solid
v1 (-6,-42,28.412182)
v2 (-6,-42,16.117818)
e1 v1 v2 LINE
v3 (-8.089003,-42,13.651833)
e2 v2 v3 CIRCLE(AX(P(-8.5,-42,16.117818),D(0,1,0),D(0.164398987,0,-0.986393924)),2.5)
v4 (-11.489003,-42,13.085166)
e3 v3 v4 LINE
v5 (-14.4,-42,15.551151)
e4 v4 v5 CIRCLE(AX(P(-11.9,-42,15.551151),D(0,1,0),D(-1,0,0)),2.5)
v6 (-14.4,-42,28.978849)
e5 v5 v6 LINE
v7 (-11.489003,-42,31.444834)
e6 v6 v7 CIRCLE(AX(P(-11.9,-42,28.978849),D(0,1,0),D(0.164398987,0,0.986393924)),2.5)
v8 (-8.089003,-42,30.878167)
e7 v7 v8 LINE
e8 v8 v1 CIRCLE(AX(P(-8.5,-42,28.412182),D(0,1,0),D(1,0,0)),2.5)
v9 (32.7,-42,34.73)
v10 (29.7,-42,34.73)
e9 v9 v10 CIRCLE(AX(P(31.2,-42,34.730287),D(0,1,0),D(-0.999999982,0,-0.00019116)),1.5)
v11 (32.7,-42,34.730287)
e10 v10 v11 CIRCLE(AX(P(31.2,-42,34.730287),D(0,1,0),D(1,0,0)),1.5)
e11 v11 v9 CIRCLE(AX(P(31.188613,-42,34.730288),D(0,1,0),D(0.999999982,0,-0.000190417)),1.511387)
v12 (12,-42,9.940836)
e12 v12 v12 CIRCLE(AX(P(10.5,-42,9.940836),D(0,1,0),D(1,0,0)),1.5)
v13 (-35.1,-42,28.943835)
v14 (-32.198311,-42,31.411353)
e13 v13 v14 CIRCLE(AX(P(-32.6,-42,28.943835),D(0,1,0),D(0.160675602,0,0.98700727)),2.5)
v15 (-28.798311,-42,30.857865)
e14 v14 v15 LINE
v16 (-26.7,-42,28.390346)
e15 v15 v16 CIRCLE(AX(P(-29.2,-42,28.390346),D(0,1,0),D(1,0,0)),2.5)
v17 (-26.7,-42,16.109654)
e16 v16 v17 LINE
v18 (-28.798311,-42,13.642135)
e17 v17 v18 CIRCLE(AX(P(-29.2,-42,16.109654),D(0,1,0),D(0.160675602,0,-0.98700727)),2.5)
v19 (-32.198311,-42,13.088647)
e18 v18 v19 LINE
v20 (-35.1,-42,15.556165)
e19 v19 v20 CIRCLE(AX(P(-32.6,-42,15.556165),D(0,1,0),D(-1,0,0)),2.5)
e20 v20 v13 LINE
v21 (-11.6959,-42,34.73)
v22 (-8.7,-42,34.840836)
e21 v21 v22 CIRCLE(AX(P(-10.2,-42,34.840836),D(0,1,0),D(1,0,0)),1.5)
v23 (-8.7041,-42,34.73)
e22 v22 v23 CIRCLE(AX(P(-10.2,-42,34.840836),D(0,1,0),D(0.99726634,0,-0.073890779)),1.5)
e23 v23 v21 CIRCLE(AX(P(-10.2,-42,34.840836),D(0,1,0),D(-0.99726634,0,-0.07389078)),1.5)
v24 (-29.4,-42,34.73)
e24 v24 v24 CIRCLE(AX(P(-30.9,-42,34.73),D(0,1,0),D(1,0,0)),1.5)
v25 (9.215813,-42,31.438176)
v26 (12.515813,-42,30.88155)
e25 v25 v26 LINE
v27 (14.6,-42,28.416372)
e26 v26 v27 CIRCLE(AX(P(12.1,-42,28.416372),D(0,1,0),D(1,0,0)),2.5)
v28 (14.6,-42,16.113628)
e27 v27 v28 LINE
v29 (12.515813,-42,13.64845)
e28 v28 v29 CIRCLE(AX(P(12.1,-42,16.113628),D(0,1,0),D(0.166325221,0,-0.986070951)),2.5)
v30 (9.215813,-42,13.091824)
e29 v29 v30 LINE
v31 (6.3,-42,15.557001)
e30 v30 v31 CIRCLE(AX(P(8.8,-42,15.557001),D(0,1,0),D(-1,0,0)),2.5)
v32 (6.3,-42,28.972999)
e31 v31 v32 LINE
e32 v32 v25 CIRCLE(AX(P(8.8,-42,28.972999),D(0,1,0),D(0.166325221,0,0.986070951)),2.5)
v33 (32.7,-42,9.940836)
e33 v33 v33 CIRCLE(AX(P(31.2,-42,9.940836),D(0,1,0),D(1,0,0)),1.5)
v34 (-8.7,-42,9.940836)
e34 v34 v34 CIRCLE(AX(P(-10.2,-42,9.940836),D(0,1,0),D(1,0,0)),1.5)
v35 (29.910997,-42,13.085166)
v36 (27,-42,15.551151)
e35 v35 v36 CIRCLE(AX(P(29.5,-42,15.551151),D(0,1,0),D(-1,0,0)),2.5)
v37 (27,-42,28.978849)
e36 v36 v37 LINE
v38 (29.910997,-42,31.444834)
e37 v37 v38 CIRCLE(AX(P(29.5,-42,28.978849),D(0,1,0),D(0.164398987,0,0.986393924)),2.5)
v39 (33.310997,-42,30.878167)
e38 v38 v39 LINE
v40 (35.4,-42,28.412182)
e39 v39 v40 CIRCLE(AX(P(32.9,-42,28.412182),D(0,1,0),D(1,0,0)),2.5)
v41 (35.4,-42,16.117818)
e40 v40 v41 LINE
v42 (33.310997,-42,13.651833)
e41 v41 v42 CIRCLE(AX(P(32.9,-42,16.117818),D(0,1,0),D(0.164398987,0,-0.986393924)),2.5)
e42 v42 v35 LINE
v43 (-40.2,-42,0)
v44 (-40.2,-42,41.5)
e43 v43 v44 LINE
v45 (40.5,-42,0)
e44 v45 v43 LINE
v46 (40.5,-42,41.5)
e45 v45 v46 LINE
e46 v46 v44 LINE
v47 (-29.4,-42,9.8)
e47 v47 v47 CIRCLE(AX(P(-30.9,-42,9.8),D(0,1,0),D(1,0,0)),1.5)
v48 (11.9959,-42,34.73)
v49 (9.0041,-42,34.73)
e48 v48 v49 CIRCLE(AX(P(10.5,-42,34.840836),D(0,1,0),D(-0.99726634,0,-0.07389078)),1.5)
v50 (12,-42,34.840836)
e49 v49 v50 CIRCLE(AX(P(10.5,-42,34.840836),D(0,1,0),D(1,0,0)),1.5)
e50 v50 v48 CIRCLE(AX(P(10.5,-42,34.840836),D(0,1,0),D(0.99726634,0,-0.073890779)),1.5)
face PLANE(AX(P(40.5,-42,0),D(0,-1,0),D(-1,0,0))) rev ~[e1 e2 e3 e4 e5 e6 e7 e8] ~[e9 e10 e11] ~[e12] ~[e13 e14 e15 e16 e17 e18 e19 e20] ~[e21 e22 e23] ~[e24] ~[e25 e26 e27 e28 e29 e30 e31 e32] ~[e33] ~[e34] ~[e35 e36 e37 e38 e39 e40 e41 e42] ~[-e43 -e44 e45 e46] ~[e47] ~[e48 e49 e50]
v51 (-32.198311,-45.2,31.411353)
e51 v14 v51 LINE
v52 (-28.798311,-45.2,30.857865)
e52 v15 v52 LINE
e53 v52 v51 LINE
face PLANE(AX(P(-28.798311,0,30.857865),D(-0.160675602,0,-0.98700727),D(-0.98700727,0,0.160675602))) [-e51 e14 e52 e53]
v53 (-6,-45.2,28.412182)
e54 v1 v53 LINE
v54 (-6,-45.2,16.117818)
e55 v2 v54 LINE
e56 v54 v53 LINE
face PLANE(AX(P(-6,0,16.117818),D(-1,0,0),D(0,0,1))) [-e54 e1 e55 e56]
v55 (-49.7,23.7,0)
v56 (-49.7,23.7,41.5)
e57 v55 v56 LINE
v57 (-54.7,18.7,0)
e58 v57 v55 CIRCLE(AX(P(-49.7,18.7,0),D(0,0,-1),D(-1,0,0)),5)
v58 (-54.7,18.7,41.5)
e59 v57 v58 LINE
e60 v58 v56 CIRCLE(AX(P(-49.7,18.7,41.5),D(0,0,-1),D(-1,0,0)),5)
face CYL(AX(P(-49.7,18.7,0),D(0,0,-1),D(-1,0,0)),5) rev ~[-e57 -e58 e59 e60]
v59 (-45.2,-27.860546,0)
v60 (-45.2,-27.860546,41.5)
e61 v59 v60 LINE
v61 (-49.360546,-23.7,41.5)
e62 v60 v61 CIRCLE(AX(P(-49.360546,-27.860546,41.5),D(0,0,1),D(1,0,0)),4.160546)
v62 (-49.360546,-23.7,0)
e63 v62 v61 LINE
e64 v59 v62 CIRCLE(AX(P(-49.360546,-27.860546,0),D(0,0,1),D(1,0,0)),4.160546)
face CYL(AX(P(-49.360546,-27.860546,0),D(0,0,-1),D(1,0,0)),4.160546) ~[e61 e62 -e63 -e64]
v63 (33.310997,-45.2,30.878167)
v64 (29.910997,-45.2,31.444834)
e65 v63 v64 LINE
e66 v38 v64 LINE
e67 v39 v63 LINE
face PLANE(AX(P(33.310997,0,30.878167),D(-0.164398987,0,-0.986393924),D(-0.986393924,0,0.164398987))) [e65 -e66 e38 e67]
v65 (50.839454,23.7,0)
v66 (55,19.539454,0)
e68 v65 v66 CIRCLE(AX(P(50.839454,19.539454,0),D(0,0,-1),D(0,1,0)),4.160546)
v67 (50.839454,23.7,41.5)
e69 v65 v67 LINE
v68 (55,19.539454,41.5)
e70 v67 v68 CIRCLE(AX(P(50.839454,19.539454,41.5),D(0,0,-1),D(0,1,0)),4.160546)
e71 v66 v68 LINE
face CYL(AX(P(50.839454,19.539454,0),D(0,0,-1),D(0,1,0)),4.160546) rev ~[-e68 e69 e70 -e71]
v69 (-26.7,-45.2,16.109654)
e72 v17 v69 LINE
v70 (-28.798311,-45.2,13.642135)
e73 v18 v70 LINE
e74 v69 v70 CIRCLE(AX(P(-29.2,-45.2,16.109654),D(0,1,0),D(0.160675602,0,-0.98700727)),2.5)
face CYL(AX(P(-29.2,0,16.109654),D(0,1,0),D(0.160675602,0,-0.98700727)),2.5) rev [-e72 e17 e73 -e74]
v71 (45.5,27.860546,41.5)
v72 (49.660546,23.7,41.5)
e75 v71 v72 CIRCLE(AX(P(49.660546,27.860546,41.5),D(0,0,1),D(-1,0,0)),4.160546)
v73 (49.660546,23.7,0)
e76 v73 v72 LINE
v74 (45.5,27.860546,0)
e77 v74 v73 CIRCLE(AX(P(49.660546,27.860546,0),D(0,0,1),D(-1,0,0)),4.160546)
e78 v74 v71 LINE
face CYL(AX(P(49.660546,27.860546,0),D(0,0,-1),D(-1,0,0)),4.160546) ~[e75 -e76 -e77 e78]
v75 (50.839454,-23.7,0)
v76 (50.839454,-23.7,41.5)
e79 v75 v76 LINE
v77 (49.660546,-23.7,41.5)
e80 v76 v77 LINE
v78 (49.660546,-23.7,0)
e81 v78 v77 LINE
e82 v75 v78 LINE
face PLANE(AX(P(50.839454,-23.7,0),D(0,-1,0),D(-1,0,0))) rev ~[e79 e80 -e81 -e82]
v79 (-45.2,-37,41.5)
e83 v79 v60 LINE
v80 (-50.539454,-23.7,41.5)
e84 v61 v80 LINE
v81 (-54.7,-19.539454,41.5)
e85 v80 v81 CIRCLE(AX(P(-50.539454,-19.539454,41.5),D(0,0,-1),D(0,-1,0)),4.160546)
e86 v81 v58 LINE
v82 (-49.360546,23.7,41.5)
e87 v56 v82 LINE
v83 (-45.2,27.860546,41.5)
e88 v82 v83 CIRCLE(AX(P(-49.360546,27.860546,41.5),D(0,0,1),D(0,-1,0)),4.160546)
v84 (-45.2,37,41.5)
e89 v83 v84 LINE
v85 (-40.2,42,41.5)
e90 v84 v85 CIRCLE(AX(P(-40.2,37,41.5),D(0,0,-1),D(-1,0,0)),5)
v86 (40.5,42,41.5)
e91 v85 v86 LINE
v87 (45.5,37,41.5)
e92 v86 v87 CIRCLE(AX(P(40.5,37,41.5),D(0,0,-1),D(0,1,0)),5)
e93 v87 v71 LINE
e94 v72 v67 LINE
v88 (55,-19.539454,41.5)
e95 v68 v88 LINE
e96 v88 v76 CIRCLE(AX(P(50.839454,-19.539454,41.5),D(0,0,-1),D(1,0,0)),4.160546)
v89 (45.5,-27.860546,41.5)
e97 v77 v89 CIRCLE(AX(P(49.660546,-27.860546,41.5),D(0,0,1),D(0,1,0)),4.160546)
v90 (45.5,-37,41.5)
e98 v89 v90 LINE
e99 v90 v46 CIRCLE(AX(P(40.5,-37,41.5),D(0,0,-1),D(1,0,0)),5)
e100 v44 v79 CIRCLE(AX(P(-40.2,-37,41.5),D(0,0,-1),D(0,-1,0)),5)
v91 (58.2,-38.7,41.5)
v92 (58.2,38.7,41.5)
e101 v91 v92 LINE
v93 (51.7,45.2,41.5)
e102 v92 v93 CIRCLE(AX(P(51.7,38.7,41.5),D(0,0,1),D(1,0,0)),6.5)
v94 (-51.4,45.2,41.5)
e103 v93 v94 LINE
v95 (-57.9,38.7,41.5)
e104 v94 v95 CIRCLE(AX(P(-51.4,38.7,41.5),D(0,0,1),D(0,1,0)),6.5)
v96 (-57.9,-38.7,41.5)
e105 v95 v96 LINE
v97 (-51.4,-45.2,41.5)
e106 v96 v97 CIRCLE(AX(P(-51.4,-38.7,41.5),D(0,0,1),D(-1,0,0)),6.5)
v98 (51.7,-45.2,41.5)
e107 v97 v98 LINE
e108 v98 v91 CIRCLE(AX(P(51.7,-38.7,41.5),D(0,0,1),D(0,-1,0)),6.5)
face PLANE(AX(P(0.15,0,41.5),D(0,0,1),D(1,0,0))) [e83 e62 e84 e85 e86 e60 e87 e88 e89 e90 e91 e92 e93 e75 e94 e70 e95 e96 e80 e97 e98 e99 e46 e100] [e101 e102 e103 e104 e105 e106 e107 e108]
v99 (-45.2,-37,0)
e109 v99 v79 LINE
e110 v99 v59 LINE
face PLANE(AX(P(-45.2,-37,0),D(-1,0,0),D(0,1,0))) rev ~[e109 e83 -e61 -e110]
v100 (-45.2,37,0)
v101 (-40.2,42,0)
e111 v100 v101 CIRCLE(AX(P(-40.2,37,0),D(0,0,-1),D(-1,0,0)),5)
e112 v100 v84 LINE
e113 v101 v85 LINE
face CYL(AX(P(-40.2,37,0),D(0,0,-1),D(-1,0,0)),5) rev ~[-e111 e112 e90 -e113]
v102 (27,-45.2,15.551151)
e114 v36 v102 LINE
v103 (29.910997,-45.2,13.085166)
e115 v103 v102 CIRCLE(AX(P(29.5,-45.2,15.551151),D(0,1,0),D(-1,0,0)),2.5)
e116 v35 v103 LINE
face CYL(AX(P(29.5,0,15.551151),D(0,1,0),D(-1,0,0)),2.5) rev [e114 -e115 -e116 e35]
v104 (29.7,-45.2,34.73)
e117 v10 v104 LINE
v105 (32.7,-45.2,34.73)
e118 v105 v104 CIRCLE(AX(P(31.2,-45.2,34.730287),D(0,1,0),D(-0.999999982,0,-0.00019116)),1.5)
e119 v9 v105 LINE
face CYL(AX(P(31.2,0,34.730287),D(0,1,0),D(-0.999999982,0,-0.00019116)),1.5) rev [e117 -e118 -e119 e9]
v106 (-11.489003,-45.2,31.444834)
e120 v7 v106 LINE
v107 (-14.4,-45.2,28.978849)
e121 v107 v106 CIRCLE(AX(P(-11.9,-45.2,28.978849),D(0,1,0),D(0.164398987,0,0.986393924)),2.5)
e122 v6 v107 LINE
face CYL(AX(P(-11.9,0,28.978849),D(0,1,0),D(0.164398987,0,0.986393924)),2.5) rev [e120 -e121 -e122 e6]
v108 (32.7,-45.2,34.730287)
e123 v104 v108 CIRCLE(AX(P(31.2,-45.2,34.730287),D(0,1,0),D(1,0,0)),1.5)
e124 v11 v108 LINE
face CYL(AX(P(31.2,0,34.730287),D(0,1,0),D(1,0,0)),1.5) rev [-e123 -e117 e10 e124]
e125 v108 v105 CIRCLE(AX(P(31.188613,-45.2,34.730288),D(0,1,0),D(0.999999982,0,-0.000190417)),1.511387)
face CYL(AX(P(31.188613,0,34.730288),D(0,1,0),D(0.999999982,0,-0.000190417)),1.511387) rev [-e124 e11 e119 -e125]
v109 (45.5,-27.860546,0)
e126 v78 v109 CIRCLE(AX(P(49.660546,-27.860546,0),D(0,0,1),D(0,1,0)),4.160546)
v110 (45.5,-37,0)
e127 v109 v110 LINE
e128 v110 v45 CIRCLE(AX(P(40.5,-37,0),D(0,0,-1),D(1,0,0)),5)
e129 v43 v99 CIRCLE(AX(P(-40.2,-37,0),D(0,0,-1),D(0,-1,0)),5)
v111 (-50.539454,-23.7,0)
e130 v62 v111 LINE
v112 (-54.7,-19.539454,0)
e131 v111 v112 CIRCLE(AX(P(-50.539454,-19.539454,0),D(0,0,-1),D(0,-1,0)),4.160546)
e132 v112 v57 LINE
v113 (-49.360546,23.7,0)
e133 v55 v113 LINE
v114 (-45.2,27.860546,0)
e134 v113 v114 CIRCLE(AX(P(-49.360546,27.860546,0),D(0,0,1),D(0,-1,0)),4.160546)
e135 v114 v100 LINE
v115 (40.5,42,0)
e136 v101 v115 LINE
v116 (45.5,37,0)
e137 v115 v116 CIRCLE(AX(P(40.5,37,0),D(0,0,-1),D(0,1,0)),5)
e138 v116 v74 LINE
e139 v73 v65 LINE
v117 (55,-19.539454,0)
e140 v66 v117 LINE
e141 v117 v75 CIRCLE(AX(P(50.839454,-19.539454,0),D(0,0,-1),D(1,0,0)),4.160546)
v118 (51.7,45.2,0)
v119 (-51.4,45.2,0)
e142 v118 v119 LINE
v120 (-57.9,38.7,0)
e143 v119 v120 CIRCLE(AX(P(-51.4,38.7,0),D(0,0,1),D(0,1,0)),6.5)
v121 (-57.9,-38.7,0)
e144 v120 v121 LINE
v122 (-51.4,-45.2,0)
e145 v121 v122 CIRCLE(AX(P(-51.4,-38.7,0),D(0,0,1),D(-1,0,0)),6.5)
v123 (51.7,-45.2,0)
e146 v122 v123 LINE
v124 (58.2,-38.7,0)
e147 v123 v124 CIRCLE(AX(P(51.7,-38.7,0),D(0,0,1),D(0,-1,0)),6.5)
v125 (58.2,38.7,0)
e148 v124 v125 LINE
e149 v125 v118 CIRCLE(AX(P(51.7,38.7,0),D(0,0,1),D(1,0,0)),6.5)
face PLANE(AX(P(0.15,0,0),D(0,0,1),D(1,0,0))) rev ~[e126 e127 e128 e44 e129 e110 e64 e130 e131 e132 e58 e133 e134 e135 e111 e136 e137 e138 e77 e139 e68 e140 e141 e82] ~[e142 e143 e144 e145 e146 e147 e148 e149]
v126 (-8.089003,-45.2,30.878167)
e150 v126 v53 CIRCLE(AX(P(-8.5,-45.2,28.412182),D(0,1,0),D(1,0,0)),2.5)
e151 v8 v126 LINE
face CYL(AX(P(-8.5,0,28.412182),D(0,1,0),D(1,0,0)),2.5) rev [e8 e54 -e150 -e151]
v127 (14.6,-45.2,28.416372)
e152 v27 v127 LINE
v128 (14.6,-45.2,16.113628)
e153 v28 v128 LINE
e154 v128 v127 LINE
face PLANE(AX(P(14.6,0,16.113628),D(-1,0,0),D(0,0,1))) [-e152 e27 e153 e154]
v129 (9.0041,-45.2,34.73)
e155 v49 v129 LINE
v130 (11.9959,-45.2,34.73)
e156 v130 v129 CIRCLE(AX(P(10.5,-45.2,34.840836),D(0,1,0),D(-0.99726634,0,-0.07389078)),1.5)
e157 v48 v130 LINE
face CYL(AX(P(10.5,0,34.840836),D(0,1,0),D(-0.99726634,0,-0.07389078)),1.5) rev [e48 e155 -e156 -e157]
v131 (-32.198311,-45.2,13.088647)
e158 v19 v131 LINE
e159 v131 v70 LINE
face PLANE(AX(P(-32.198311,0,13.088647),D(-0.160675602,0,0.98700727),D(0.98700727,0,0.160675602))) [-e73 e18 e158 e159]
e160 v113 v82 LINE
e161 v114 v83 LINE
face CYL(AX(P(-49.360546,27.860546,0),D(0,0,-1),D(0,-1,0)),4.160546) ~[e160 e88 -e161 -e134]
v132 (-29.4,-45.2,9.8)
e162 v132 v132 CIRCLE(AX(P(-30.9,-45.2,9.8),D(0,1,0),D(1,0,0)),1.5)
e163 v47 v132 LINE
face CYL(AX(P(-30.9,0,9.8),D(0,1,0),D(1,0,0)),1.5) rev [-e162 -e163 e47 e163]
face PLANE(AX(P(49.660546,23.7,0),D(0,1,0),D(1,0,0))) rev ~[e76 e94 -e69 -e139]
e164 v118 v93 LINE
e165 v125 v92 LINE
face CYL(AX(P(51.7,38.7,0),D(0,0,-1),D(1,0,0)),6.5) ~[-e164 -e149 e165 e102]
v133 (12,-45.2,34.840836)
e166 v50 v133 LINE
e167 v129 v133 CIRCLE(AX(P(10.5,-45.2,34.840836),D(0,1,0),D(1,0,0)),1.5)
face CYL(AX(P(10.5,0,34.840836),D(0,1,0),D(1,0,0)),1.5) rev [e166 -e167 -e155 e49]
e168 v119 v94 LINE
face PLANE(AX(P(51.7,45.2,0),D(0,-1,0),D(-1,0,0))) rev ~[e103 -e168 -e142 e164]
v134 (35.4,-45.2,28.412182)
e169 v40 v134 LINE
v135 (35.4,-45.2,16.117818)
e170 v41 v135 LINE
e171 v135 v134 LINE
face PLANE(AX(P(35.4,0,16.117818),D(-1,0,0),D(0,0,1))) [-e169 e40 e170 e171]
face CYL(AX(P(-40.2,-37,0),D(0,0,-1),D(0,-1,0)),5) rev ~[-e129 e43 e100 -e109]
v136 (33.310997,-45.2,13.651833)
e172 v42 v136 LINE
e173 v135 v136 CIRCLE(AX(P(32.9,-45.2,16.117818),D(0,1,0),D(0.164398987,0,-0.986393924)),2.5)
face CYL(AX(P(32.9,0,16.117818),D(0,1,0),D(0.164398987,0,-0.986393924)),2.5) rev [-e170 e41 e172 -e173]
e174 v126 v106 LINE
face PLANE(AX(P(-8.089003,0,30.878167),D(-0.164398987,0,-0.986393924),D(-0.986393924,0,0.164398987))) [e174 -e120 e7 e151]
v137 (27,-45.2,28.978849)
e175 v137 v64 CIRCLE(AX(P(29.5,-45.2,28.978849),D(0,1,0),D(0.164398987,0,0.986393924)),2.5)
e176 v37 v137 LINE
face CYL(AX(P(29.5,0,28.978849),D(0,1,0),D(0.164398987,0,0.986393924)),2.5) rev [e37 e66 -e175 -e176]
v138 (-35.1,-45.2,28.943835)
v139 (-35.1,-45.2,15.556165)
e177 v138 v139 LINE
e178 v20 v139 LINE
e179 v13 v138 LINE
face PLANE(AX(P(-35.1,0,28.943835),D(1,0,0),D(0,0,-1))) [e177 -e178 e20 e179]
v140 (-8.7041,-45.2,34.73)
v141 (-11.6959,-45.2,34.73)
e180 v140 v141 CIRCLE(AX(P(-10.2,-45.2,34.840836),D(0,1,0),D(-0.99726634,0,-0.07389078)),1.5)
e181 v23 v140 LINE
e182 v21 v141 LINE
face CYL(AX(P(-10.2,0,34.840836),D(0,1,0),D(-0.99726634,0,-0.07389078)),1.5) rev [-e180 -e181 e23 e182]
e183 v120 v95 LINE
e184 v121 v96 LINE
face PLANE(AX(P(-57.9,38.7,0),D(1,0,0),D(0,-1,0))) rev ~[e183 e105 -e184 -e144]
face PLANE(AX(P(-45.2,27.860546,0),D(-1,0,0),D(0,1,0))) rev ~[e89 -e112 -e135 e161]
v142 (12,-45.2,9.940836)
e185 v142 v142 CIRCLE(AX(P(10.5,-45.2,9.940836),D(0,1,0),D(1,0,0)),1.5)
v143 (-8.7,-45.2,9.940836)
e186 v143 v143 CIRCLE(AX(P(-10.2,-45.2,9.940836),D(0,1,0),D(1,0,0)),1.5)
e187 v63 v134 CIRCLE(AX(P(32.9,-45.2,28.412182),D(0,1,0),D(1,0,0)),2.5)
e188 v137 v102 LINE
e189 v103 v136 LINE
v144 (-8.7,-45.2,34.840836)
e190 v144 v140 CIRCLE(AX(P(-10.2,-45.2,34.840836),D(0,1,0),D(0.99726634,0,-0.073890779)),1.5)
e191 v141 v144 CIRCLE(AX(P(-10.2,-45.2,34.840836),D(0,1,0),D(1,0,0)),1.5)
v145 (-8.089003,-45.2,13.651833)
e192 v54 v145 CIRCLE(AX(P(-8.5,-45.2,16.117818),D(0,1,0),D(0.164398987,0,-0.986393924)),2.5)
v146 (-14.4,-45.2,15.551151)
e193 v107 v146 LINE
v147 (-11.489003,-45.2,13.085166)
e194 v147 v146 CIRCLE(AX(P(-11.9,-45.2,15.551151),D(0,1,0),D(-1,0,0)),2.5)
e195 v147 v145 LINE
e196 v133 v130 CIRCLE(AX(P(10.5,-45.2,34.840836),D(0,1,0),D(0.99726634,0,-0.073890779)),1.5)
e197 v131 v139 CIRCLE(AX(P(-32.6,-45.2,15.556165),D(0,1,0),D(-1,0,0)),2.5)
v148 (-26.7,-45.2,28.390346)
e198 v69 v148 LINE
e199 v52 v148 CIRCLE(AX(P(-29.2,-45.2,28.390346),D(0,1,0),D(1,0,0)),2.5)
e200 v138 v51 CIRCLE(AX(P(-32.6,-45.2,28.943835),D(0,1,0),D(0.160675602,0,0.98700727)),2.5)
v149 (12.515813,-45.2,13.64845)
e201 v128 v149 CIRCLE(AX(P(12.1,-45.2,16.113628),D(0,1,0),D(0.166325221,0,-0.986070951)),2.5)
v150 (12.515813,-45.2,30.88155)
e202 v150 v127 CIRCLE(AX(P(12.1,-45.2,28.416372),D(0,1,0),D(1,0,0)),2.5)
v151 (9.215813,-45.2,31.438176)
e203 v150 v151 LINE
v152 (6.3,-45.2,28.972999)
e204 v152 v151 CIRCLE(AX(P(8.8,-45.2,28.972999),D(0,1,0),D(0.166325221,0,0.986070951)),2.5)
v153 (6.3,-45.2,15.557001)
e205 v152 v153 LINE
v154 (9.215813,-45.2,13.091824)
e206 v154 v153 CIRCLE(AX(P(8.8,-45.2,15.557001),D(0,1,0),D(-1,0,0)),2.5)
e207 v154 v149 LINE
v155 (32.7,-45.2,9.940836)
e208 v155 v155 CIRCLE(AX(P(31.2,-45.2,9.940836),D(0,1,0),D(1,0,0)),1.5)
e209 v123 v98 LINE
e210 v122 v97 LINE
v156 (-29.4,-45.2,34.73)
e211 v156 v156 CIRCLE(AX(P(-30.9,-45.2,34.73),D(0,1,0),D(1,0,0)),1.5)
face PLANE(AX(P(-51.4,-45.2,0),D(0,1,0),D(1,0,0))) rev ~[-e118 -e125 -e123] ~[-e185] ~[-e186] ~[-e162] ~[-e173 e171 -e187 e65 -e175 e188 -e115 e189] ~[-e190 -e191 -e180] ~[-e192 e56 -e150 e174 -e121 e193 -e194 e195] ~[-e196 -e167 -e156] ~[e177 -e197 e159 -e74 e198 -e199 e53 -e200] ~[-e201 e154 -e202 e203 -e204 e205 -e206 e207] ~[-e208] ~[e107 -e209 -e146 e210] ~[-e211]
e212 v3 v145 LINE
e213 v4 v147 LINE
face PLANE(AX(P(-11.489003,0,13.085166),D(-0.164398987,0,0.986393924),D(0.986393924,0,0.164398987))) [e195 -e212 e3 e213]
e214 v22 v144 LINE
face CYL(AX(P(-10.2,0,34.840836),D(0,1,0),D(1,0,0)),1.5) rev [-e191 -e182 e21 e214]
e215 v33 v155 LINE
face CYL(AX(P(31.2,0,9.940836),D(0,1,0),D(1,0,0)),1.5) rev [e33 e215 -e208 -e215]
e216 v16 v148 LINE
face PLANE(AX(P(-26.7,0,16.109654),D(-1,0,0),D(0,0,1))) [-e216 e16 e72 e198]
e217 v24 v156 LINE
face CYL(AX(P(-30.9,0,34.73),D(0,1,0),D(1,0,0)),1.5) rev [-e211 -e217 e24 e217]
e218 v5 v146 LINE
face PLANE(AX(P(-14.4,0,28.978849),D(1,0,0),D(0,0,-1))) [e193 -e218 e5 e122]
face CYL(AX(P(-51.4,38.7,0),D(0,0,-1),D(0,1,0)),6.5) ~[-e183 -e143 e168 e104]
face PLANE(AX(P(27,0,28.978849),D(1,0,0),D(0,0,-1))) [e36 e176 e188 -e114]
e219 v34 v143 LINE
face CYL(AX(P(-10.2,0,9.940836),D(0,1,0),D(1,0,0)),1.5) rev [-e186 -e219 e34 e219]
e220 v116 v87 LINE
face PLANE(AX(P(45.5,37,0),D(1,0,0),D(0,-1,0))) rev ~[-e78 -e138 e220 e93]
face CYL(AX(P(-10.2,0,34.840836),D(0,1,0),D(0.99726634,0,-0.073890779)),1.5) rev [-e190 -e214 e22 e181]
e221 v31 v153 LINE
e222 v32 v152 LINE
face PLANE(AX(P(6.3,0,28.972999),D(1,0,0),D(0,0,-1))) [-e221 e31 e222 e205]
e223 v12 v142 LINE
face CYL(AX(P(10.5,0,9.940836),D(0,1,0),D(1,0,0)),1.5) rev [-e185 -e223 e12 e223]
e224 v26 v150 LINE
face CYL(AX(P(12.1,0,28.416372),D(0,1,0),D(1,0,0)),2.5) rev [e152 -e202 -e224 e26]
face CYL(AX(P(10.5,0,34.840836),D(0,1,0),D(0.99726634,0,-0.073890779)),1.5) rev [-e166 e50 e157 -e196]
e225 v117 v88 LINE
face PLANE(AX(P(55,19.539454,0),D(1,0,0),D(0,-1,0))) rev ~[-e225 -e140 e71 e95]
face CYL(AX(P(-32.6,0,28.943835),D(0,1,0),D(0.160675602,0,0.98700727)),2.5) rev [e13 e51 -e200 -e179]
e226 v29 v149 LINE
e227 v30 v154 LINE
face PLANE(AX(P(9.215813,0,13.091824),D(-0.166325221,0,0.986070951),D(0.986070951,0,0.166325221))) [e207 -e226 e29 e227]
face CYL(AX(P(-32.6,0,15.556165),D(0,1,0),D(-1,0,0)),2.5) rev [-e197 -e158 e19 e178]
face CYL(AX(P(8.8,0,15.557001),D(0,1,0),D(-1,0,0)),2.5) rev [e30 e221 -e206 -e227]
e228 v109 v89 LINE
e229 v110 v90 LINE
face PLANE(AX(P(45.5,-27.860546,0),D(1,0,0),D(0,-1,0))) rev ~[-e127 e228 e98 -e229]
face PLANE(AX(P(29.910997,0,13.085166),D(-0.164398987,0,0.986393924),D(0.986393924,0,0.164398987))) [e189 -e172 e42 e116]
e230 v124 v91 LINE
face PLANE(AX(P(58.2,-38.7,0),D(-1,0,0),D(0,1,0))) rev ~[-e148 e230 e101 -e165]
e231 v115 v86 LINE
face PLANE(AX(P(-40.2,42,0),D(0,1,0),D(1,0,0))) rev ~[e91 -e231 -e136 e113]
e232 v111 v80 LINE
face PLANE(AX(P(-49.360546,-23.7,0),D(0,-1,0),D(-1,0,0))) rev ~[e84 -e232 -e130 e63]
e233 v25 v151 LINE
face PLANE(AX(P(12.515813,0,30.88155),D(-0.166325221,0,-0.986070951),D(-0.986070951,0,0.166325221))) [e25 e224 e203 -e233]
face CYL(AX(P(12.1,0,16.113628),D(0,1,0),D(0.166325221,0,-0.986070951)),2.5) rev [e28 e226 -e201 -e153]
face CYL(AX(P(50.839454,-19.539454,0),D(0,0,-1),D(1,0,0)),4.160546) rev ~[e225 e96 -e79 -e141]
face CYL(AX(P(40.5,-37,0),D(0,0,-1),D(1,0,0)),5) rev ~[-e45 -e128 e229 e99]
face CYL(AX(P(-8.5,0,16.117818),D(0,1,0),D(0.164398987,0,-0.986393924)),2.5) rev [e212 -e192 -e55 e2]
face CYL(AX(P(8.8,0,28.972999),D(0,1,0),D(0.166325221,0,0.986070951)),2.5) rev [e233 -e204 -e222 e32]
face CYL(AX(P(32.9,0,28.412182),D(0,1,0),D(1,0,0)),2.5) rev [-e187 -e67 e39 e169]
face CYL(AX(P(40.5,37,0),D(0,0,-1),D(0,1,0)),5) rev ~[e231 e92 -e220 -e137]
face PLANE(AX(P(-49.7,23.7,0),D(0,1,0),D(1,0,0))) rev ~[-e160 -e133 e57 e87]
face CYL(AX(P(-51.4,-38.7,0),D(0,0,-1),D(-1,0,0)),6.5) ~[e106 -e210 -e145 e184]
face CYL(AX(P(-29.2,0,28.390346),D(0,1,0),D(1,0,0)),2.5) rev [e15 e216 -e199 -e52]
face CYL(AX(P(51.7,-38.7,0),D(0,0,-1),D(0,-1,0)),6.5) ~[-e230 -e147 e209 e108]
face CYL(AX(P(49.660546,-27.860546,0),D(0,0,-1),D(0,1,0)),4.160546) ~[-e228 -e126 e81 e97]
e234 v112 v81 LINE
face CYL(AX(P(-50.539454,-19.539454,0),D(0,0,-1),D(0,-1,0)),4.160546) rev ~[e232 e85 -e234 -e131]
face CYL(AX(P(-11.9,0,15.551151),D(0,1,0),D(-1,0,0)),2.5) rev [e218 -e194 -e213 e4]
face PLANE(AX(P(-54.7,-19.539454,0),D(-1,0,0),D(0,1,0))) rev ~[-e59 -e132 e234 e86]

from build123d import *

# Parameters (mm, degrees)
F1_DEPTH = 41.5
F2_R     = 1.5
F3_DEPTH = 103


with BuildPart() as f1:
    # F0 (on Top) → F1 (new body)
    with BuildSketch(Plane.XY):
        with BuildLine():
            Line((51.7, 45.2), (-51.4, 45.2))
            ThreePointArc((-51.4, 45.2), (-55.9961940777, 43.2961940777), (-57.9, 38.7))
            Line((-57.9, 38.7), (-57.9, -38.7))
            ThreePointArc((-57.9, -38.7), (-55.9961940777, -43.2961940777), (-51.4, -45.2))
            Line((-51.4, -45.2), (51.7, -45.2))
            ThreePointArc((51.7, -45.2), (56.2961940777, -43.2961940777), (58.2, -38.7))
            Line((58.2, -38.7), (58.2, 38.7))
            ThreePointArc((58.2, 38.7), (56.2961940777, 43.2961940777), (51.7, 45.2))
        make_face()
        with BuildLine():
            Line((-54.7, -19.5394540004), (-54.7, 18.7))
            ThreePointArc((-54.7, 18.7), (-53.2355339059, 22.2355339059), (-49.7, 23.7))
            Line((-49.7, 23.7), (-49.3605459996, 23.7))
            ThreePointArc((-49.3605459996, 23.7), (-46.4185957098, 24.9185957098), (-45.2, 27.8605459996))
            Line((-45.2, 27.8605459996), (-45.2, 37))
            ThreePointArc((-45.2, 37), (-43.7355339059, 40.5355339059), (-40.2, 42))
            Line((-40.2, 42), (40.5, 42))
            ThreePointArc((40.5, 42), (44.0355339059, 40.5355339059), (45.5, 37))
            Line((45.5, 37), (45.5, 27.8605459996))
            ThreePointArc((45.5, 27.8605459996), (46.7185957098, 24.9185957098), (49.6605459996, 23.7))
            Line((49.6605459996, 23.7), (50.8394540004, 23.7))
            ThreePointArc((50.8394540004, 23.7), (53.7814042902, 22.4814042902), (55, 19.5394540004))
            Line((55, 19.5394540004), (55, -19.5394540004))
            ThreePointArc((55, -19.5394540004), (53.7814042902, -22.4814042902), (50.8394540004, -23.7))
            Line((50.8394540004, -23.7), (49.6605459996, -23.7))
            ThreePointArc((49.6605459996, -23.7), (46.7185957098, -24.9185957098), (45.5, -27.8605459996))
            Line((45.5, -27.8605459996), (45.5, -37))
            ThreePointArc((45.5, -37), (44.0355339059, -40.5355339059), (40.5, -42))
            Line((40.5, -42), (-40.2, -42))
            ThreePointArc((-40.2, -42), (-43.7355339059, -40.5355339059), (-45.2, -37))
            Line((-45.2, -37), (-45.2, -27.8605459996))
            ThreePointArc((-45.2, -27.8605459996), (-46.4185957098, -24.9185957098), (-49.3605459996, -23.7))
            Line((-49.3605459996, -23.7), (-50.5394540004, -23.7))
            ThreePointArc((-50.5394540004, -23.7), (-53.4814042902, -22.4814042902), (-54.7, -19.5394540004))
        make_face(mode=Mode.SUBTRACT)
    extrude(amount=F1_DEPTH)

    # F2 (on Front) → F3 (cut)
    with BuildSketch(Plane.XZ):
        with Locations((-30.9, 34.73)):
            Circle(F2_R)
        with BuildLine():
            ThreePointArc((32.7, 34.7302867395), (31.1998566303, 36.2302867326), (29.7000000274, 34.73))
            Line((29.7000000274, 34.73), (32.6999999726, 34.73))
            ThreePointArc((32.6999999726, 34.73), (32.6999999931, 34.7301433697), (32.7, 34.7302867395))
        make_face()
        with BuildLine():
            Line((32.6999999726, 34.73), (29.7000000274, 34.73))
            ThreePointArc((29.7000000274, 34.73), (31.2, 33.2302867395), (32.6999999726, 34.73))
        make_face()
        with BuildLine():
            ThreePointArc((12, 34.8408361703), (10.4445440024, 36.3398106972), (9.0041004902, 34.73))
            Line((9.0041004902, 34.73), (11.9958995098, 34.73))
            ThreePointArc((11.9958995098, 34.73), (11.9989745269, 34.7853801727), (12, 34.8408361703))
        make_face()
        with BuildLine():
            Line((11.9958995098, 34.73), (9.0041004902, 34.73))
            ThreePointArc((9.0041004902, 34.73), (10.5, 33.3408361703), (11.9958995098, 34.73))
        make_face()
        with BuildLine():
            ThreePointArc((-8.7, 34.8408361703), (-10.2554559976, 36.3398106972), (-11.6958995098, 34.73))
            Line((-11.6958995098, 34.73), (-8.7041004902, 34.73))
            ThreePointArc((-8.7041004902, 34.73), (-8.7010254731, 34.7853801727), (-8.7, 34.8408361703))
        make_face()
        with BuildLine():
            Line((-8.7041004902, 34.73), (-11.6958995098, 34.73))
            ThreePointArc((-11.6958995098, 34.73), (-10.2, 33.3408361703), (-8.7041004902, 34.73))
        make_face()
        with Locations((-30.9, 9.8)):
            Circle(F2_R)
        with Locations((31.2, 9.9408361703)):
            Circle(F2_R)
        with Locations((10.5, 9.9408361703)):
            Circle(F2_R)
        with Locations((-10.2, 9.9408361703)):
            Circle(F2_R)
        with BuildLine():
            Line((-35.1, 28.9438347778), (-35.1, 15.5561652222))
            ThreePointArc((-35.1, 15.5561652222), (-34.2195334956, 13.6516675833), (-32.1983109948, 13.0886470474))
            Line((-32.1983109948, 13.0886470474), (-28.7983109948, 13.6421354195))
            ThreePointArc((-28.7983109948, 13.6421354195), (-27.2955023611, 14.4901200986), (-26.7, 16.1096535943))
            Line((-26.7, 16.1096535943), (-26.7, 28.3903464057))
            ThreePointArc((-26.7, 28.3903464057), (-27.2955023611, 30.0098799014), (-28.7983109948, 30.8578645805))
            Line((-28.7983109948, 30.8578645805), (-32.1983109948, 31.4113529526))
            ThreePointArc((-32.1983109948, 31.4113529526), (-34.2195334956, 30.8483324167), (-35.1, 28.9438347778))
        make_face()
        with BuildLine():
            Line((-14.4, 28.9788489457), (-14.4, 15.5511510543))
            ThreePointArc((-14.4, 15.5511510543), (-13.5159372403, 13.6436010981), (-11.4890025317, 13.0851662447))
            Line((-11.4890025317, 13.0851662447), (-8.0890025317, 13.6518329114))
            ThreePointArc((-8.0890025317, 13.6518329114), (-6.5924500438, 14.5018804806), (-6, 16.117817721))
            Line((-6, 16.117817721), (-6, 28.412182279))
            ThreePointArc((-6, 28.412182279), (-6.5924500438, 30.0281195194), (-8.0890025317, 30.8781670886))
            Line((-8.0890025317, 30.8781670886), (-11.4890025317, 31.4448337553))
            ThreePointArc((-11.4890025317, 31.4448337553), (-13.5159372403, 30.8863989019), (-14.4, 28.9788489457))
        make_face()
        with BuildLine():
            Line((6.3, 28.9729987336), (6.3, 15.5570012664))
            ThreePointArc((6.3, 15.5570012664), (7.1859263693, 13.6478741584), (9.2158130517, 13.0918238882))
            Line((9.2158130517, 13.0918238882), (12.5158130517, 13.6484503943))
            ThreePointArc((12.5158130517, 13.6484503943), (14.009127108, 14.4995541418), (14.6, 16.1136277725))
            Line((14.6, 16.1136277725), (14.6, 28.4163722275))
            ThreePointArc((14.6, 28.4163722275), (14.009127108, 30.0304458582), (12.5158130517, 30.8815496057))
            Line((12.5158130517, 30.8815496057), (9.2158130517, 31.4381761118))
            ThreePointArc((9.2158130517, 31.4381761118), (7.1859263693, 30.8821258416), (6.3, 28.9729987336))
        make_face()
        with BuildLine():
            Line((27, 28.9788489457), (27, 15.5511510543))
            ThreePointArc((27, 15.5511510543), (27.8840627597, 13.6436010981), (29.9109974683, 13.0851662447))
            Line((29.9109974683, 13.0851662447), (33.3109974683, 13.6518329114))
            ThreePointArc((33.3109974683, 13.6518329114), (34.8075499562, 14.5018804806), (35.4, 16.117817721))
            Line((35.4, 16.117817721), (35.4, 28.412182279))
            ThreePointArc((35.4, 28.412182279), (34.8075499562, 30.0281195194), (33.3109974683, 30.8781670886))
            Line((33.3109974683, 30.8781670886), (29.9109974683, 31.4448337553))
            ThreePointArc((29.9109974683, 31.4448337553), (27.8840627597, 30.8863989019), (27, 28.9788489457))
        make_face()
    extrude(amount=F3_DEPTH, mode=Mode.SUBTRACT)


solid = f1.part
